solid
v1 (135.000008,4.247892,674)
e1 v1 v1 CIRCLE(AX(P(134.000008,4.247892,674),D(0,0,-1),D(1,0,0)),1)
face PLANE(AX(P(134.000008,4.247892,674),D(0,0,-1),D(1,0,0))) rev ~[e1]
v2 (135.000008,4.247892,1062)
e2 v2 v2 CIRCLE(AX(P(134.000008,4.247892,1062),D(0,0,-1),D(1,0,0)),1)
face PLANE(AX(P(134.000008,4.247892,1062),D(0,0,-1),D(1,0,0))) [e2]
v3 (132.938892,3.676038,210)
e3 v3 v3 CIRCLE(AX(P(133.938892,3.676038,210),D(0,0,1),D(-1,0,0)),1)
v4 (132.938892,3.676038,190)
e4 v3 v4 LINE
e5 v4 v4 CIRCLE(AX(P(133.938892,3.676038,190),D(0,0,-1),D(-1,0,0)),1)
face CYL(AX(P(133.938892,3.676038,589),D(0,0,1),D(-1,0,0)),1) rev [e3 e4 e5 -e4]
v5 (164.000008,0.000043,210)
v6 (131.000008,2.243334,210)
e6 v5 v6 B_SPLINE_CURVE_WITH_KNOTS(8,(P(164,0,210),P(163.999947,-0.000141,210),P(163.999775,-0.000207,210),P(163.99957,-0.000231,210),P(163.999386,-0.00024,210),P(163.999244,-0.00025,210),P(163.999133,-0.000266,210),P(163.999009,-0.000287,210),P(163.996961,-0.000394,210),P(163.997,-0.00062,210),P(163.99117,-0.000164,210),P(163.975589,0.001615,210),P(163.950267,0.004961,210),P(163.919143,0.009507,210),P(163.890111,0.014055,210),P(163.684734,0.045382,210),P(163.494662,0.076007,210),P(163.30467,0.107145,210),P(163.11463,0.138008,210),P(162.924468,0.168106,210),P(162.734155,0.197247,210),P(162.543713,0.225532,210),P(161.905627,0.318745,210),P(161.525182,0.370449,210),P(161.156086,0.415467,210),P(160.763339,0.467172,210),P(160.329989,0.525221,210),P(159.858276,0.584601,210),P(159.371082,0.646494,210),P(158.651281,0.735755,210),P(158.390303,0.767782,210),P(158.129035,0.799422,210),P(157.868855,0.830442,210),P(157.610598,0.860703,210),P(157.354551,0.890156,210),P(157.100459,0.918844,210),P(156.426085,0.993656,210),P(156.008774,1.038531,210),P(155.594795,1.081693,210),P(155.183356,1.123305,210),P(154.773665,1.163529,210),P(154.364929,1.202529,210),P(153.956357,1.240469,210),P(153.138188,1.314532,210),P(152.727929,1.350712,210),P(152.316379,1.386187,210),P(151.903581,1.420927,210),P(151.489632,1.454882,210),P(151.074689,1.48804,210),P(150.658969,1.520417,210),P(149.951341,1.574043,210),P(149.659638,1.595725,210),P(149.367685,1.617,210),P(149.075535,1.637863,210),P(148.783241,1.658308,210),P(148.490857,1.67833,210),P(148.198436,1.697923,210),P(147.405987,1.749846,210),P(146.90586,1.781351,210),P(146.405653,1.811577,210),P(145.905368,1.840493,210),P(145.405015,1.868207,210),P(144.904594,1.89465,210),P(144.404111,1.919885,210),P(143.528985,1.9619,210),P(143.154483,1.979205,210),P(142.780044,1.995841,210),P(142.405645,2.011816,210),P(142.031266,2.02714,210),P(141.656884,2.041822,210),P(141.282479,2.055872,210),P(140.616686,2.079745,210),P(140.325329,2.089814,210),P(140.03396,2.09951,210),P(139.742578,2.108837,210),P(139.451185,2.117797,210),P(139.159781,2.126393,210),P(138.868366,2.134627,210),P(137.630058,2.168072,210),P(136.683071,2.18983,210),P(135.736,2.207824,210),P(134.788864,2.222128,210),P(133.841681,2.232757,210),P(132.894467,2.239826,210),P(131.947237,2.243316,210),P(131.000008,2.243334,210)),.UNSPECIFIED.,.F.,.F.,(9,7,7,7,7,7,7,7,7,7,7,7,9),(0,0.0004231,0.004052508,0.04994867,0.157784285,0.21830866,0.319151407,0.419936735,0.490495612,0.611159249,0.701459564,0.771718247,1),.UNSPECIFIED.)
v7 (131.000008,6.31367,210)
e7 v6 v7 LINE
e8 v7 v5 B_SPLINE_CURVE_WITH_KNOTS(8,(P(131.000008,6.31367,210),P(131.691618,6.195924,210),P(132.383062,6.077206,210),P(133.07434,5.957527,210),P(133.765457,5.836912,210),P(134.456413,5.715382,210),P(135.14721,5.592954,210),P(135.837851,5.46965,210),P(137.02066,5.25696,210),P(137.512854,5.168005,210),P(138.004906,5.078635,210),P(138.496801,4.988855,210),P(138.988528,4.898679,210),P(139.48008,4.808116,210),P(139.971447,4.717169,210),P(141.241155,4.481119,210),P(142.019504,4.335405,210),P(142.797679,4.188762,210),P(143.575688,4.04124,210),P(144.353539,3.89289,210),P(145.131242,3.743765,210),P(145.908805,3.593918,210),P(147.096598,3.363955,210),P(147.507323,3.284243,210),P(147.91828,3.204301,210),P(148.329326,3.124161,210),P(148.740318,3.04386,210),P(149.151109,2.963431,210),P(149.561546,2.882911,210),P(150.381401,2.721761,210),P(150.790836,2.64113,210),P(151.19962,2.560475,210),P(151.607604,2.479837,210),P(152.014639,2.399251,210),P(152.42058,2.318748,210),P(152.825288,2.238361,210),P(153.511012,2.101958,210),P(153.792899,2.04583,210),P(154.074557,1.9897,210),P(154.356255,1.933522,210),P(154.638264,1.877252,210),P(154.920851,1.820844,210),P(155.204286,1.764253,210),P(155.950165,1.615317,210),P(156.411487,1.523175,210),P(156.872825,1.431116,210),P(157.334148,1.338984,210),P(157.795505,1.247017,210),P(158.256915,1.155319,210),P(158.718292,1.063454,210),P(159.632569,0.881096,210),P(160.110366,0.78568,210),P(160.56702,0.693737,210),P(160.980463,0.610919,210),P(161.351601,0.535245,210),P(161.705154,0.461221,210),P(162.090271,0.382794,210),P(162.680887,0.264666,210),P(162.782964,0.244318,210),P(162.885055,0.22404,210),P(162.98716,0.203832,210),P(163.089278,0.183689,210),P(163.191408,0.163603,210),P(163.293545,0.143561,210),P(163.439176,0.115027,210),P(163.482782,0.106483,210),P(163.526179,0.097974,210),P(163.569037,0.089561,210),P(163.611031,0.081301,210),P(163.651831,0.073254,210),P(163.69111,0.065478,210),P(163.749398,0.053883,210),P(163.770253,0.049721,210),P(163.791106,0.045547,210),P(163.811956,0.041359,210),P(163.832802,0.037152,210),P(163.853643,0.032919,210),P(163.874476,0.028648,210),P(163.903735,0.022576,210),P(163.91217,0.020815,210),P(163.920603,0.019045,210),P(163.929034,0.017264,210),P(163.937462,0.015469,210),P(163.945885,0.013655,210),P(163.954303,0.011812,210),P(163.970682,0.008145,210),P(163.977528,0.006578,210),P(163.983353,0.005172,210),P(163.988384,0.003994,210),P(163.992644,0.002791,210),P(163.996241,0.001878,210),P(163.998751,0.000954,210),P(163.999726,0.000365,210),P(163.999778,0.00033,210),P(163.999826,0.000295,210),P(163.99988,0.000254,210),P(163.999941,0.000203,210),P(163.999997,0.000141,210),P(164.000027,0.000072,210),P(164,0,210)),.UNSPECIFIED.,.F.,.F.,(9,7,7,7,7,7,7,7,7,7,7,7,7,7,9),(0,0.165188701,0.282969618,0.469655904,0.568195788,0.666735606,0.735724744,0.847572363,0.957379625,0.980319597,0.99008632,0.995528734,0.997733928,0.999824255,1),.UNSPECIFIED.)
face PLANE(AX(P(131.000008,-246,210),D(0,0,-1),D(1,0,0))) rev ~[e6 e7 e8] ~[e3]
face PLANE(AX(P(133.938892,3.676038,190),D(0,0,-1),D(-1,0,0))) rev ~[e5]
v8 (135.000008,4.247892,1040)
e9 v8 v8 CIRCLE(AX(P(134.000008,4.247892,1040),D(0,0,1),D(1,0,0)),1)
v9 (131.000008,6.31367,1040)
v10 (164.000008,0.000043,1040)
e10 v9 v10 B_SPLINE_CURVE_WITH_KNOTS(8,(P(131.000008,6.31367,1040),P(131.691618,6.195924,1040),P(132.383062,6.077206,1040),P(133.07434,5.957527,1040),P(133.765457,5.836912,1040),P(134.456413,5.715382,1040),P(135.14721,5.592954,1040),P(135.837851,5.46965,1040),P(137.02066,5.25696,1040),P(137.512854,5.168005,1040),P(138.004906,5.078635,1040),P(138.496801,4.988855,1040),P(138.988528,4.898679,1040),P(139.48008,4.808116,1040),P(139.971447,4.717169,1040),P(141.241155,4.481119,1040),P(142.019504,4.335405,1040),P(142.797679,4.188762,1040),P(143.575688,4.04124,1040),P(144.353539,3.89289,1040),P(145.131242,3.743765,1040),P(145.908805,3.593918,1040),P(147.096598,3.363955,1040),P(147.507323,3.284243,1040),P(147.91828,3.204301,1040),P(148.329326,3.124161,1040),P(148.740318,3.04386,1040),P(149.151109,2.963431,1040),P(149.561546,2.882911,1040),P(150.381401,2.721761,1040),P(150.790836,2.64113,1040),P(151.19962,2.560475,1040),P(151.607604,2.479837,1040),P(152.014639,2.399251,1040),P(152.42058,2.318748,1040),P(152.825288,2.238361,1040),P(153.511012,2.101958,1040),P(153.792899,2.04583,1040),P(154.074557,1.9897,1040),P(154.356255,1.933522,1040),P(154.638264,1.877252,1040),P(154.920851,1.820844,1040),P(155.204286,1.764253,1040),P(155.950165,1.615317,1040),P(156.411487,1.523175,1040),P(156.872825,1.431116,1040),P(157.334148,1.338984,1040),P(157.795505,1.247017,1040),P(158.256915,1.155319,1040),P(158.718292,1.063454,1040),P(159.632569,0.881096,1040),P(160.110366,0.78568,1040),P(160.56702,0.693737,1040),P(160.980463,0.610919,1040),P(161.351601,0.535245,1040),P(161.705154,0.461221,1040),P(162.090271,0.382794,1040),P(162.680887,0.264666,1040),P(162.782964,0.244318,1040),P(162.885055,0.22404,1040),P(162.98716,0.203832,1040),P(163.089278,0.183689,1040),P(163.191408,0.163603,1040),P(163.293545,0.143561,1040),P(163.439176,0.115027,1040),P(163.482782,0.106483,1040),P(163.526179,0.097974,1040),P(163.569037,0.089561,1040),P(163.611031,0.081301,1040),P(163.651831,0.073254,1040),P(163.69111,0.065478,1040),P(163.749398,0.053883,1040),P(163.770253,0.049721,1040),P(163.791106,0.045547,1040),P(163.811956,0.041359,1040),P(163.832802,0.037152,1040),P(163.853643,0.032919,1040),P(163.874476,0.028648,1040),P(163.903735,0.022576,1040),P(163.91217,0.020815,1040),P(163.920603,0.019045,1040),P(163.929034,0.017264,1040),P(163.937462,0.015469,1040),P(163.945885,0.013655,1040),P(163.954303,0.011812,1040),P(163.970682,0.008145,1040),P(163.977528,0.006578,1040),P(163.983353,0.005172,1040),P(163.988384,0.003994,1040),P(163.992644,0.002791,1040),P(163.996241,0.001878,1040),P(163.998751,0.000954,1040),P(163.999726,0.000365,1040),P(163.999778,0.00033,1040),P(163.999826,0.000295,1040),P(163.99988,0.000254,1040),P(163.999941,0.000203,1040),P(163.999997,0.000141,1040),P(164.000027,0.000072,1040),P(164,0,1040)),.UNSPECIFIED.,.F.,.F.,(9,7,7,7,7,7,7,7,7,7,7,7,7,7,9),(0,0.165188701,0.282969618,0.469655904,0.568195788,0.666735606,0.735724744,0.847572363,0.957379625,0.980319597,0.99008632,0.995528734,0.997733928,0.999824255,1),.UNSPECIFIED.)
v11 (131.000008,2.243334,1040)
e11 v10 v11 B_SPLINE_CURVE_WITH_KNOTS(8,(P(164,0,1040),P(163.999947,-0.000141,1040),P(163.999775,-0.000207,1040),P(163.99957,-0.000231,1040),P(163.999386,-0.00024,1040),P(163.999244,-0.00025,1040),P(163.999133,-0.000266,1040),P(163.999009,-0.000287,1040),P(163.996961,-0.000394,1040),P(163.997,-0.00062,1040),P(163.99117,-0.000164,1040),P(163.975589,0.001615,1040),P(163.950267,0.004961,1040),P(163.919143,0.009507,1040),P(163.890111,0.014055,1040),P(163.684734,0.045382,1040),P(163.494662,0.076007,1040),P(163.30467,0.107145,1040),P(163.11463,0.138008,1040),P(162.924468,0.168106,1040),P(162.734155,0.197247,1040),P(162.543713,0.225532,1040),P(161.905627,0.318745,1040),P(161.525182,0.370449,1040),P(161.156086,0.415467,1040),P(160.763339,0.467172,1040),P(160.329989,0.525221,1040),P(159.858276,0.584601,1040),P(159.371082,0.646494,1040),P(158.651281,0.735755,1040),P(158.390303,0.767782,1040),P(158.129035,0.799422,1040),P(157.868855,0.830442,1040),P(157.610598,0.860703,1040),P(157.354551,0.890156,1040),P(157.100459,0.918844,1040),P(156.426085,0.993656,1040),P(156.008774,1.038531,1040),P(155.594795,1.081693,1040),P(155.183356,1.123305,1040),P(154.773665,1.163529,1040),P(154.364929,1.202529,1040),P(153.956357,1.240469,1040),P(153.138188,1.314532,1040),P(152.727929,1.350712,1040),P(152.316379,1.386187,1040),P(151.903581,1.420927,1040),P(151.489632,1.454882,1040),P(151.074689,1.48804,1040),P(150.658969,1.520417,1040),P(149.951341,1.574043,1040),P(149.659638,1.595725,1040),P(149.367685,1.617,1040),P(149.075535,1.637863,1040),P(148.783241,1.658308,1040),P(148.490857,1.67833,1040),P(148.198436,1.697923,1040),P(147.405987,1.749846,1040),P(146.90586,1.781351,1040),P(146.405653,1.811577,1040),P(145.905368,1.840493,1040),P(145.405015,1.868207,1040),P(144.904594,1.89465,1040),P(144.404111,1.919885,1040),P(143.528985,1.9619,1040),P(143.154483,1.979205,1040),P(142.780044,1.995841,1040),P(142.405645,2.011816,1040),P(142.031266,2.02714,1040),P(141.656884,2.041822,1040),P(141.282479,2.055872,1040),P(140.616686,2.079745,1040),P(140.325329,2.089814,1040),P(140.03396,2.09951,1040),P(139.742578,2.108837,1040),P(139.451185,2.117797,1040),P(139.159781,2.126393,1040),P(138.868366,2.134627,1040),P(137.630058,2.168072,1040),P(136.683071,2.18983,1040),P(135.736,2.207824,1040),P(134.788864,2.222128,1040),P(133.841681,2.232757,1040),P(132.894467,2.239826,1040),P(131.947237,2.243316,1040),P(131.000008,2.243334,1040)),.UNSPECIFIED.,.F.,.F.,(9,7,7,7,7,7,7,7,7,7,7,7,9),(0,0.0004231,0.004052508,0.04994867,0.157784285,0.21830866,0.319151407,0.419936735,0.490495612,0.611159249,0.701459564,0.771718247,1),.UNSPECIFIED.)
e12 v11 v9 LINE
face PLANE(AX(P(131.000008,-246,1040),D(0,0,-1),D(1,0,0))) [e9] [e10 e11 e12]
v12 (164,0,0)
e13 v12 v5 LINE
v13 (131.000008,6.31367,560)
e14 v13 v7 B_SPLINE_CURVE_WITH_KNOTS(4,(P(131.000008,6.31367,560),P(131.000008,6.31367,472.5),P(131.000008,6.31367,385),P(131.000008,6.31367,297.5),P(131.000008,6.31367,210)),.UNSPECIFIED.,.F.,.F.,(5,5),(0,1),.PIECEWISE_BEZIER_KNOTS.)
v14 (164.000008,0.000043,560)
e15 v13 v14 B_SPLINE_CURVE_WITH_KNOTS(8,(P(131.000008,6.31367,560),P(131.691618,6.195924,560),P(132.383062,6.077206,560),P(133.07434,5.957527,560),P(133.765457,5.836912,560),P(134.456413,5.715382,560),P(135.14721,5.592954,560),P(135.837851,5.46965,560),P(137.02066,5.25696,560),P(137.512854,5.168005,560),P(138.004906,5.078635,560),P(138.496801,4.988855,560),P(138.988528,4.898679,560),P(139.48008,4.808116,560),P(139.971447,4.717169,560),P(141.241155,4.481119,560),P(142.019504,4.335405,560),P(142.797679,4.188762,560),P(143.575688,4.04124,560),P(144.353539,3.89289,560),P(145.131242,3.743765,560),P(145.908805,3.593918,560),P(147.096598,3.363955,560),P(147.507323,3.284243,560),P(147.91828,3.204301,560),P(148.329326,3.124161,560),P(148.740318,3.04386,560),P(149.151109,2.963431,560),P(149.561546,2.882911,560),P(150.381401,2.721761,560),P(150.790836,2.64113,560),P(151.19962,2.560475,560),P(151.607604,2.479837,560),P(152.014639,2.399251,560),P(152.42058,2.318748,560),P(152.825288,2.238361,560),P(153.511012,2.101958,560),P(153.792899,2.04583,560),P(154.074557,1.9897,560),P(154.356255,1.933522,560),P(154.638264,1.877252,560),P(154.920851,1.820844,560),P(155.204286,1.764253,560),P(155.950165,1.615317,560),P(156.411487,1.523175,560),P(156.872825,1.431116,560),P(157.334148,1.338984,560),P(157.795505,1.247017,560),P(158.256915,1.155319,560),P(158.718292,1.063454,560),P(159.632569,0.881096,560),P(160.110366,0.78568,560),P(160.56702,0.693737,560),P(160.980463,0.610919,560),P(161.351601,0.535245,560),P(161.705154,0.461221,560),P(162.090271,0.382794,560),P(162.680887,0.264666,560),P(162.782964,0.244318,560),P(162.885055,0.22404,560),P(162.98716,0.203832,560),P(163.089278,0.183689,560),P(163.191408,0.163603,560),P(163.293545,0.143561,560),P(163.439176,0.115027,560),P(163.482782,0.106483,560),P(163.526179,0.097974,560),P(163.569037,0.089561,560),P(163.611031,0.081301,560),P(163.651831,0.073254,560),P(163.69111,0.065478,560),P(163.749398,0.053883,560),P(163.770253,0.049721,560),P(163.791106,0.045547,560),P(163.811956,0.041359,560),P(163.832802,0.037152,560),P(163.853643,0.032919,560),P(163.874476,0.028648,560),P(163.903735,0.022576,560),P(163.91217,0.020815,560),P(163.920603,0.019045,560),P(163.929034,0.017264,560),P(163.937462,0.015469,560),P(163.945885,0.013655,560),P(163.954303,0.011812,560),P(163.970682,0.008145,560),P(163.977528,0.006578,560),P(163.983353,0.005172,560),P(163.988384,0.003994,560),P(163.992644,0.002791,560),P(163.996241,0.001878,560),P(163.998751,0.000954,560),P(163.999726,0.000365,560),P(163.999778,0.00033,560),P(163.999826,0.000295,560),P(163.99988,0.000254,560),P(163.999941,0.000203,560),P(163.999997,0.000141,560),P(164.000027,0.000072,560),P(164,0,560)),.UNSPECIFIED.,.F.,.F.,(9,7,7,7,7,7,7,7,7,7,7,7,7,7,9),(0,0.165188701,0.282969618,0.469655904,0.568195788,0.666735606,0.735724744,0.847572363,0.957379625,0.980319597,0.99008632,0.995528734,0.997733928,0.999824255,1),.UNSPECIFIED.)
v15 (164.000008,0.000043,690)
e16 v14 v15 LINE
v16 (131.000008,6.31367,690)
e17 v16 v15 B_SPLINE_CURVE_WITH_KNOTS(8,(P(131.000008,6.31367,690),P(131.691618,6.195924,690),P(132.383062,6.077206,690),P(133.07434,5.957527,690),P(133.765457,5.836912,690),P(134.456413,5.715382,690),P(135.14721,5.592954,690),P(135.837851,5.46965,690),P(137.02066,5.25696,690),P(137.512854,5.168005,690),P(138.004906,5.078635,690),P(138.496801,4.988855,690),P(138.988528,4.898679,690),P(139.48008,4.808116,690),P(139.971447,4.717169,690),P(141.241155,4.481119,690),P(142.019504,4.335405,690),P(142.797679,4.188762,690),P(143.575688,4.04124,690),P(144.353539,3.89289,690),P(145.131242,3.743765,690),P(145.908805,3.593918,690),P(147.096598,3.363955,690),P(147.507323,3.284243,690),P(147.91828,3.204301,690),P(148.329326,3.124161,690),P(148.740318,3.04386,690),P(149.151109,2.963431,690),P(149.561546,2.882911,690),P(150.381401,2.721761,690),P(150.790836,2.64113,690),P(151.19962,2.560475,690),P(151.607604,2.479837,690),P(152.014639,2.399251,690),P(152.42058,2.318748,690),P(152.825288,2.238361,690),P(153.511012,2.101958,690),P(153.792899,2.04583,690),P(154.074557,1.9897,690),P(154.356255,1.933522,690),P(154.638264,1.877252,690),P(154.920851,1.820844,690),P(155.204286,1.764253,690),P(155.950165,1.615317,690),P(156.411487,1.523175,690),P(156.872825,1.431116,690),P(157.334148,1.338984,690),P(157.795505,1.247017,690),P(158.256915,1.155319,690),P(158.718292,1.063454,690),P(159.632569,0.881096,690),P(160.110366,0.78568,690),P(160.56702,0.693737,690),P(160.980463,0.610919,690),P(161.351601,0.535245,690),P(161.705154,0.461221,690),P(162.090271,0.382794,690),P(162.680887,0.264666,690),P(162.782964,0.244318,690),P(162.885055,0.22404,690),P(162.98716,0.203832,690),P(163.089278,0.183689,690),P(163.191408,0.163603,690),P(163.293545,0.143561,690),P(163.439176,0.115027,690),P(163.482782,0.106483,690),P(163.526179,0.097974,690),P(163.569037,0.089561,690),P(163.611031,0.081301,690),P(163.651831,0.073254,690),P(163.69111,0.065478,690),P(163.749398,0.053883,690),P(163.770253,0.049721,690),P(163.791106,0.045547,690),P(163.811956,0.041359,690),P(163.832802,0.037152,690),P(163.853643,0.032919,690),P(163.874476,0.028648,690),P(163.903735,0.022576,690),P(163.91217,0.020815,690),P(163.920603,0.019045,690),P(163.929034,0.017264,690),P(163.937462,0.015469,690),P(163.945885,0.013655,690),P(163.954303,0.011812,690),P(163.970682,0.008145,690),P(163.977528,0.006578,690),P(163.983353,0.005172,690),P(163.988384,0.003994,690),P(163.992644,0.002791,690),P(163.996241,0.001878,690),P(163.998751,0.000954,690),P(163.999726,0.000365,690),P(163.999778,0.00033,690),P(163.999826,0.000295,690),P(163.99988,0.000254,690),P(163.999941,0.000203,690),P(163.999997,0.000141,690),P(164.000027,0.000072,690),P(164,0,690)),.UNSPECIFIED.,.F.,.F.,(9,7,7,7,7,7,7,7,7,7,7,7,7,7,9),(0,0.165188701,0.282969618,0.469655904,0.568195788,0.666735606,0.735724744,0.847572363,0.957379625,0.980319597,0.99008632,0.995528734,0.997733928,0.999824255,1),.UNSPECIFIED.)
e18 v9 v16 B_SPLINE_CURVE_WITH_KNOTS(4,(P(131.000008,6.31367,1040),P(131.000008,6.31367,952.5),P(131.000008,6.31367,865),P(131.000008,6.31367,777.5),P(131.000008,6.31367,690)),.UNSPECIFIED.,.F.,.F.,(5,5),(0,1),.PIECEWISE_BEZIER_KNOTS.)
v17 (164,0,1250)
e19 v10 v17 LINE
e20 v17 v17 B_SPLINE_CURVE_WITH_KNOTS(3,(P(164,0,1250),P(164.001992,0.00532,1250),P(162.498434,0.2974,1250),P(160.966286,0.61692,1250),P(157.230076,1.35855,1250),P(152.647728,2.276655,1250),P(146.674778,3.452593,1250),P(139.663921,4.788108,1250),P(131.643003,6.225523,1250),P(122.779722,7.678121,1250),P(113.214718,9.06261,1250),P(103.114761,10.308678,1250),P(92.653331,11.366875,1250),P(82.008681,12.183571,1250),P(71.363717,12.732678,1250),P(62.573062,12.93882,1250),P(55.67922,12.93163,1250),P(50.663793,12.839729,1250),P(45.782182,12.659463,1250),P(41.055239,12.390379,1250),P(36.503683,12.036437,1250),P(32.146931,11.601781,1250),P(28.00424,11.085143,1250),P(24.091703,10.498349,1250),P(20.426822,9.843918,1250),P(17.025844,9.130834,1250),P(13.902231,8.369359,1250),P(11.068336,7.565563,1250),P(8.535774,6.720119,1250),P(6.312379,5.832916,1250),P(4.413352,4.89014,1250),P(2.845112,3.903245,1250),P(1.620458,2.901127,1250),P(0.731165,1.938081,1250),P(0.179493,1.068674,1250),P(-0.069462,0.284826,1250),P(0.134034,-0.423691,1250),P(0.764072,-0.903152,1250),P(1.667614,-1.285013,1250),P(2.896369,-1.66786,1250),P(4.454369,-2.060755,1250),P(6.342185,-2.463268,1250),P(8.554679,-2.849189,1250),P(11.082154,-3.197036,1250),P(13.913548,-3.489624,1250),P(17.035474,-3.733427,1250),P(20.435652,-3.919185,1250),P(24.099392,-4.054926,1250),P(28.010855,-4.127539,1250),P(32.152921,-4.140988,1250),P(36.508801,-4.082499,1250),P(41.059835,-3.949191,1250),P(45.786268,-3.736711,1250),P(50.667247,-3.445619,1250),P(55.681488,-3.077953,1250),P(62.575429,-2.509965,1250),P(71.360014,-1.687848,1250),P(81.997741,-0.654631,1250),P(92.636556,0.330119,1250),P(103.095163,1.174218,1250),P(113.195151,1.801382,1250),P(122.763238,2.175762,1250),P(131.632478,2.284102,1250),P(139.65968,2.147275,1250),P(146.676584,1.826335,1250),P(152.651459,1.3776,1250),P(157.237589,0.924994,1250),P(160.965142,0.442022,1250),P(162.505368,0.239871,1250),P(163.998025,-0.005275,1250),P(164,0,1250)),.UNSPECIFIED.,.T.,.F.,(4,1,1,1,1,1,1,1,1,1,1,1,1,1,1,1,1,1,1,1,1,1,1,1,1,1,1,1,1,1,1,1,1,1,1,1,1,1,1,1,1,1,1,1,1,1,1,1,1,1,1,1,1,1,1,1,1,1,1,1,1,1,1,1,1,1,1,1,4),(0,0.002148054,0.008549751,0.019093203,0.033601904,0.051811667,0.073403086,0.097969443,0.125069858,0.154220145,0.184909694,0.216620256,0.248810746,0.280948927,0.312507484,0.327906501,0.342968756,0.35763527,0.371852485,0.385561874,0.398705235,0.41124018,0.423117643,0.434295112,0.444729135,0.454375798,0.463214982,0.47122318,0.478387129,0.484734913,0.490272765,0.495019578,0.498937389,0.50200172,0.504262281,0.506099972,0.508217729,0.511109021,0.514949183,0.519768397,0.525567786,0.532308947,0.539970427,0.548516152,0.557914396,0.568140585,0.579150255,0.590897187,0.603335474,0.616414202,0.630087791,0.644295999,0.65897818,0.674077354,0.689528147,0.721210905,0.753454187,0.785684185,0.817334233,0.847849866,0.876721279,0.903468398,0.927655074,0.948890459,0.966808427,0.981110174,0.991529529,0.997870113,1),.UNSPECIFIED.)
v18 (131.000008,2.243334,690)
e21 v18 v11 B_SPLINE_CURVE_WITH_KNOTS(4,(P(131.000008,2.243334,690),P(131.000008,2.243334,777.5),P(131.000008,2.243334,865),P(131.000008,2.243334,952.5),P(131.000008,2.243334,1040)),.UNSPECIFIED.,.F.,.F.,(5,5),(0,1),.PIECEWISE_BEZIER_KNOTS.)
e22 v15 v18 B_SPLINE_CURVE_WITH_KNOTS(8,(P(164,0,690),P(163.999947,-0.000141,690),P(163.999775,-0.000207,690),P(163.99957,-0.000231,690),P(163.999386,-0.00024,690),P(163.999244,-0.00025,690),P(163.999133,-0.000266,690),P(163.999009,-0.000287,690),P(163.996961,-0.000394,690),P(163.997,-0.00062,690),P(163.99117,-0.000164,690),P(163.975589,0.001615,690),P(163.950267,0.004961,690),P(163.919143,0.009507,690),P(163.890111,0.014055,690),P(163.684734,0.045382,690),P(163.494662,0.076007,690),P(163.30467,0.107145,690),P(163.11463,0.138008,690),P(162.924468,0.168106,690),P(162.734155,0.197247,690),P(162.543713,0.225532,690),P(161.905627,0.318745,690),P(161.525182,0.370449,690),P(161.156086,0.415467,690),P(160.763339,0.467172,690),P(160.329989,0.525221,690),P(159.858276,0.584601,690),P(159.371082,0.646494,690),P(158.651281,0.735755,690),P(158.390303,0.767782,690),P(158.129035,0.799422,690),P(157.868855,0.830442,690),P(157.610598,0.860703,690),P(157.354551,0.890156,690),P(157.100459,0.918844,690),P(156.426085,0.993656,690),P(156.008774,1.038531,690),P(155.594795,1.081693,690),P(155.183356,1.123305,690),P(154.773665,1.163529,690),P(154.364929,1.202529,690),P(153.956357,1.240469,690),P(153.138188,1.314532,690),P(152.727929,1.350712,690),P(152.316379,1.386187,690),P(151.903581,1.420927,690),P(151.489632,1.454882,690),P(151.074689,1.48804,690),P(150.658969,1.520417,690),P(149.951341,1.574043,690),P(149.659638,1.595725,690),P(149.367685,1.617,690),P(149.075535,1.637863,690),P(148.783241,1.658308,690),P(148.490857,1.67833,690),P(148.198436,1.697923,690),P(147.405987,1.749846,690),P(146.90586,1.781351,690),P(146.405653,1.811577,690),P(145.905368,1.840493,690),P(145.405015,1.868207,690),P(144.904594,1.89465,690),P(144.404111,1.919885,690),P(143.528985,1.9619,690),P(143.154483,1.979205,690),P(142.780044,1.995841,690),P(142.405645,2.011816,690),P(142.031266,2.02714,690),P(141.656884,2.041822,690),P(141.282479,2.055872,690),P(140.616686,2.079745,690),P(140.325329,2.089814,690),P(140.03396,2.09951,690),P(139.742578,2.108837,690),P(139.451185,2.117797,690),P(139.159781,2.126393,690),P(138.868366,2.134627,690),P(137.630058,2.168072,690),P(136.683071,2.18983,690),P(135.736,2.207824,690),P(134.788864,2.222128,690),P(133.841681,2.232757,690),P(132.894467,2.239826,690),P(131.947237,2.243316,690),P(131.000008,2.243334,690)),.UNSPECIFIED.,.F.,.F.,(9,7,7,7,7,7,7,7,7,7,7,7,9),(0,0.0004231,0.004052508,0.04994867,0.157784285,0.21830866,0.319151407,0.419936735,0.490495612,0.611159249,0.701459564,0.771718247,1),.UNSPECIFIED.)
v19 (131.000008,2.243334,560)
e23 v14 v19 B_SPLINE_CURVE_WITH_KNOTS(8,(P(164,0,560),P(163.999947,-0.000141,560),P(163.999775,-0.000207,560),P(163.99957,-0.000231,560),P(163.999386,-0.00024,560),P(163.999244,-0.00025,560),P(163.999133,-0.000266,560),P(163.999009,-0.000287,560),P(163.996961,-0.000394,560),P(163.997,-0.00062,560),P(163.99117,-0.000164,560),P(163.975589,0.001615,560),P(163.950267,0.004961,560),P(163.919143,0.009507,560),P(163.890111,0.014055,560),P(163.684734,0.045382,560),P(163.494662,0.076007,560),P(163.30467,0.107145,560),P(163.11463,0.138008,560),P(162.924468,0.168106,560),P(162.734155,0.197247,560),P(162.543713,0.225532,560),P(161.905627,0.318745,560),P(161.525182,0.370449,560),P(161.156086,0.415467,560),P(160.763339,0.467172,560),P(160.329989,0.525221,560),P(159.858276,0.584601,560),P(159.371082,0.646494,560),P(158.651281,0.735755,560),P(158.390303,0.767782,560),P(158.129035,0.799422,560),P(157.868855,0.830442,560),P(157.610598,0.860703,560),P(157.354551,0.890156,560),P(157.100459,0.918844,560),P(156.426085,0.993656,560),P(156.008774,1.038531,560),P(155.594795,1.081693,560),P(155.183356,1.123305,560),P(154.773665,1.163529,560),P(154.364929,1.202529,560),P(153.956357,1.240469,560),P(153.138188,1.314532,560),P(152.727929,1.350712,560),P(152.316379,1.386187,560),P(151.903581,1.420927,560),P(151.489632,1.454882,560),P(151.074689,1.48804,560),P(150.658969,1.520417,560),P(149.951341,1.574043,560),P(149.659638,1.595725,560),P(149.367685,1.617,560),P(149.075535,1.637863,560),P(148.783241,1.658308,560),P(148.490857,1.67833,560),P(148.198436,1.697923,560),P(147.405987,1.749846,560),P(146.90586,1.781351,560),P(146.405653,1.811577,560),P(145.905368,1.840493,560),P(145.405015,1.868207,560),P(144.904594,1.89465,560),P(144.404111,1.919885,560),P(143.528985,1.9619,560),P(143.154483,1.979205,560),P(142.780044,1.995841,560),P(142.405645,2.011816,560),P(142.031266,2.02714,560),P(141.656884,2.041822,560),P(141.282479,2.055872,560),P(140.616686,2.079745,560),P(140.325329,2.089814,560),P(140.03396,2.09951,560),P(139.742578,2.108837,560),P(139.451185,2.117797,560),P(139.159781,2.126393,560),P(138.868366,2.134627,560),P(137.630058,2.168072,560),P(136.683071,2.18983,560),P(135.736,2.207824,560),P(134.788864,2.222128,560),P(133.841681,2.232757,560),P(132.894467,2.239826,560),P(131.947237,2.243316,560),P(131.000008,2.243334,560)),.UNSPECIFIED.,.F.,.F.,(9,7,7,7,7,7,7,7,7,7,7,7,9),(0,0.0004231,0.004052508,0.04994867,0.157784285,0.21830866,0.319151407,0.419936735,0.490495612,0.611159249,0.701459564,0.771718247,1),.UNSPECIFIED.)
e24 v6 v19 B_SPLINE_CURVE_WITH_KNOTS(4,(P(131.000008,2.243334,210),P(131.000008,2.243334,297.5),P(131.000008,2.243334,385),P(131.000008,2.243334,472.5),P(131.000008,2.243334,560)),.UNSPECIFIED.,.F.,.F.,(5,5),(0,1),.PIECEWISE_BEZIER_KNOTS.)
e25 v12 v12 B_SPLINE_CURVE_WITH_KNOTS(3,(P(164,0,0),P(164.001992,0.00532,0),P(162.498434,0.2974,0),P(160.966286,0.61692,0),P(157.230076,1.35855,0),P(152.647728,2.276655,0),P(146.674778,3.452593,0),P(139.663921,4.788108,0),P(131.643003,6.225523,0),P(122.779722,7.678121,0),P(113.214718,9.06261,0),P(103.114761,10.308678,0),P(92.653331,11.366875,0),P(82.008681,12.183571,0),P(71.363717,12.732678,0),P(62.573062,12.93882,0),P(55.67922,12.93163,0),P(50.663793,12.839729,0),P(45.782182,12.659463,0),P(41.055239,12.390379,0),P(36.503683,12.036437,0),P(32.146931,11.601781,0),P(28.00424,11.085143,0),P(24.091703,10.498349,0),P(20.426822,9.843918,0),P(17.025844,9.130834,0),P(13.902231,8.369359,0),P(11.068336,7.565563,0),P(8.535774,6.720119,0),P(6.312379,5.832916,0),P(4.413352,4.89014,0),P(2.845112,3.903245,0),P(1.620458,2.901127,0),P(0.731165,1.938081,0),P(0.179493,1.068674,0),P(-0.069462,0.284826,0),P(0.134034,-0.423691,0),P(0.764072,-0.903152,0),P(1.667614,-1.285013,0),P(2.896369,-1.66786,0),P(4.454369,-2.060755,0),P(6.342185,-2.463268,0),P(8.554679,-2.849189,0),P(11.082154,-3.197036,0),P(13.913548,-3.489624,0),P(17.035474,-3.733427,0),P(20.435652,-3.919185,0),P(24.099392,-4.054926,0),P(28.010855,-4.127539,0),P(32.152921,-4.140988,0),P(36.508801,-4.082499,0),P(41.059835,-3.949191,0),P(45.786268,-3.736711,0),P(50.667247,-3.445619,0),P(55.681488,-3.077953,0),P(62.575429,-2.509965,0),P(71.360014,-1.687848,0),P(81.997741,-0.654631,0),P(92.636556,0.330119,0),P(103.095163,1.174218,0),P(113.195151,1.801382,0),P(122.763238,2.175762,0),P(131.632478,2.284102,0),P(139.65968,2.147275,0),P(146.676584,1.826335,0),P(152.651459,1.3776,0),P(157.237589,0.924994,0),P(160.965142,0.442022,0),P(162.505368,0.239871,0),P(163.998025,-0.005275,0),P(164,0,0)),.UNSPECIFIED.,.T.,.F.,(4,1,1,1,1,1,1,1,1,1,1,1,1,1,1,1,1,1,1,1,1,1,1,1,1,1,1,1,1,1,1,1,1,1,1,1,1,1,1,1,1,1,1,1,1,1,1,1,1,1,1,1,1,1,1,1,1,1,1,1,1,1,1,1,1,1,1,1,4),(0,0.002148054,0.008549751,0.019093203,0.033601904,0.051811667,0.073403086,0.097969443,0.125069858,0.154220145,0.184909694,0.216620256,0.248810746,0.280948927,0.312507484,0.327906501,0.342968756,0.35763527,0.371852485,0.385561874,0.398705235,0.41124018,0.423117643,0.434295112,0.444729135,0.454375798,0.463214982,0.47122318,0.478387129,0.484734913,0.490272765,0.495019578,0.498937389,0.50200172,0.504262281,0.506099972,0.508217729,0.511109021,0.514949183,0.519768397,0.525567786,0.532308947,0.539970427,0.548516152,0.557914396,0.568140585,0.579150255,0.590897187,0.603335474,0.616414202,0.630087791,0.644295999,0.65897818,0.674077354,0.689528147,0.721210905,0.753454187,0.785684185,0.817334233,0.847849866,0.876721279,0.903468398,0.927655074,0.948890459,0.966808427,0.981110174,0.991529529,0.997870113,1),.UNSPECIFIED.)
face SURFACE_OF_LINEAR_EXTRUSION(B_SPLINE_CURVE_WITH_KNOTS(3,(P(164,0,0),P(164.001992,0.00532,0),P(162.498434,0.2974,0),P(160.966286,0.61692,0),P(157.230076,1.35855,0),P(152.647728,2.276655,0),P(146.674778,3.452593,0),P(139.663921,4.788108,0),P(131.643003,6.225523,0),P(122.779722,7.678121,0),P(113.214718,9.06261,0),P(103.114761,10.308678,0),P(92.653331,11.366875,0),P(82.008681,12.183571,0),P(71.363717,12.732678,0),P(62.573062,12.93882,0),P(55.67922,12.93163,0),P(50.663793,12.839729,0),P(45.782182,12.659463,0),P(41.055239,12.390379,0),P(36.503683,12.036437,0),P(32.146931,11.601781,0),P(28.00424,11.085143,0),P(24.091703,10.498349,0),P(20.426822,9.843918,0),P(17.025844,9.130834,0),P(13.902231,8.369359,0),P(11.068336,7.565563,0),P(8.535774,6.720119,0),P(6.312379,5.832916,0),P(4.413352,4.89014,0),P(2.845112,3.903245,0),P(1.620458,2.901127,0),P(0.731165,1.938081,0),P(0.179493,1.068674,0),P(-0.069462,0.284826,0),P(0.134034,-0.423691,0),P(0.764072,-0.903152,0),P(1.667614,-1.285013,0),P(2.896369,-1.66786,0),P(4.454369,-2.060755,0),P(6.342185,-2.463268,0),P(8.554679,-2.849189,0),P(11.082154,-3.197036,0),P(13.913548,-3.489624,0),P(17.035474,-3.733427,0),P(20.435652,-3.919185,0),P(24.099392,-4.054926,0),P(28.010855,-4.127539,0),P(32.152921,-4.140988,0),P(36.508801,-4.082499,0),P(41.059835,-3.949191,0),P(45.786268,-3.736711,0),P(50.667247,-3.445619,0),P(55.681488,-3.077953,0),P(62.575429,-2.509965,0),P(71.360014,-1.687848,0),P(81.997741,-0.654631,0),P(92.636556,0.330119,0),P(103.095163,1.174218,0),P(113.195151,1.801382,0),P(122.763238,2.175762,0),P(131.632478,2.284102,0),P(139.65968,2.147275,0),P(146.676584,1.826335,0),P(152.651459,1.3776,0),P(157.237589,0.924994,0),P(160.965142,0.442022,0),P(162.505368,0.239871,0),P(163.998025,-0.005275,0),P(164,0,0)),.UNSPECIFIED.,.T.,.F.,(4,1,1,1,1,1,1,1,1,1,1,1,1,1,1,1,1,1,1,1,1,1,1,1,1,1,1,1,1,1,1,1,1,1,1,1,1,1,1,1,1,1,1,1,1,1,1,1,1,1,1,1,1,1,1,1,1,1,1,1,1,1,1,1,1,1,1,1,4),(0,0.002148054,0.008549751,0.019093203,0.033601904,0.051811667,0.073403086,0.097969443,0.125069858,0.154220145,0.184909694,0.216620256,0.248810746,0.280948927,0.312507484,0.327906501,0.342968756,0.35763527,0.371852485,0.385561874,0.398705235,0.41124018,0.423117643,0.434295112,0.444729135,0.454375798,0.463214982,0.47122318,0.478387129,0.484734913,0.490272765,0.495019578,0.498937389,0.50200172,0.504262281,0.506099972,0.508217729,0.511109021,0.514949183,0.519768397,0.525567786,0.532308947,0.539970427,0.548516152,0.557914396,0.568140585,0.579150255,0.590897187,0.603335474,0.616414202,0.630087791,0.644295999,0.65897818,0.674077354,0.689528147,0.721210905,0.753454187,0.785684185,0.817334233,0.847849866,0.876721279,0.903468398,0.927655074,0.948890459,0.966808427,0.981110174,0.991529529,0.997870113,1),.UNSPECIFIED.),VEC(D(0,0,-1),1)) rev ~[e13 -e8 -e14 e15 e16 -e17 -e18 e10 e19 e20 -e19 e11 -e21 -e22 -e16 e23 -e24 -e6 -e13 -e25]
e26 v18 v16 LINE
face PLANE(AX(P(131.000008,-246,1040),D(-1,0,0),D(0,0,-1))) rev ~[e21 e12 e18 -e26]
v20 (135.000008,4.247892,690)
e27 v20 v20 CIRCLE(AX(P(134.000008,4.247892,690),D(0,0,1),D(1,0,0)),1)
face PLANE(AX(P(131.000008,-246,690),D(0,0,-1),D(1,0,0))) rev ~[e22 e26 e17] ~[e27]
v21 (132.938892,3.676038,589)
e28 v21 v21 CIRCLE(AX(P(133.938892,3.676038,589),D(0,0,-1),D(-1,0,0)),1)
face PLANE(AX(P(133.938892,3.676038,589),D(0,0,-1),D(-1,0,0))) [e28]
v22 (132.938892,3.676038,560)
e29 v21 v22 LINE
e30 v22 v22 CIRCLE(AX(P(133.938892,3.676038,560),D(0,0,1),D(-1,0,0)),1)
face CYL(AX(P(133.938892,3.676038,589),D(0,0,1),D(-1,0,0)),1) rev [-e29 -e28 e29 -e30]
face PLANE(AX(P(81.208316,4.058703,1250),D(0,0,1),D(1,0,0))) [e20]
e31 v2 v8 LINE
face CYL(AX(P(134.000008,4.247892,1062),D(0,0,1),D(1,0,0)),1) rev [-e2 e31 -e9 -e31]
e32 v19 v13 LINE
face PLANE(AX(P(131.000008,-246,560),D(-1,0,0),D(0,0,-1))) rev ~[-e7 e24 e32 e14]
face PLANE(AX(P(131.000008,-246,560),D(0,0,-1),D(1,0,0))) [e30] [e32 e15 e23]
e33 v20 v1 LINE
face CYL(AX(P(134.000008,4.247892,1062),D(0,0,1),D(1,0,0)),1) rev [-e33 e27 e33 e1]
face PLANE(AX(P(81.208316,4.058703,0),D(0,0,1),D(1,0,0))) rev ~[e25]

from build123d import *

# Parameters (mm, degrees)
WING_SPAN_DEPTH         = 1250
FLAP_SPACE_DEPTH        = 110
FLAP_SPACE_DEPTH_BACK   = 246
SKETCH4_W               = 33
SKETCH4_H               = 350
CUT_EXTRUDE3_DEPTH      = 370
CUT_EXTRUDE3_DEPTH_BACK = 29
SKETCH5_R               = 1
CUT_EXTRUDE4_DEPTH      = 366
CUT_EXTRUDE4_DEPTH_BACK = 22
SKETCH6_R               = 0.999999993


with BuildPart() as part:
    # Sketch2 → Wing span (new body)
    with BuildSketch(Plane.XY):
        with BuildLine():
            add(Edge.make_bspline(
                [(164, 0), (164.001991598, 0.00531985), (162.498434343, 0.297400203), (160.966285987, 0.616919952), (157.230075916, 1.35854981), (152.647727614, 2.276655229), (146.674778271, 3.452593401), (139.663921431, 4.788107638), (131.643002502, 6.225523454), (122.779722168, 7.678120549), (113.214717928, 9.062609537), (103.114761216, 10.30867808), (92.653330955, 11.366874663), (82.008680624, 12.183570909), (71.363717138, 12.732678494), (62.573062305, 12.938820128), (55.679219616, 12.931629583), (50.66379262, 12.839728664), (45.782181562, 12.659463205), (41.055239208, 12.3903785), (36.503682969, 12.036437473), (32.146930875, 11.601780671), (28.004239994, 11.085142861), (24.091702865, 10.49834901), (20.426822474, 9.843918183), (17.025844132, 9.130833564), (13.902230709, 8.369358841), (11.06833563, 7.565562996), (8.53577437, 6.720118621), (6.312379055, 5.832916092), (4.413351959, 4.89013994), (2.84511205, 3.903245047), (1.620457598, 2.901127061), (0.731165093, 1.938080692), (0.179493112, 1.068674431), (-0.069462085, 0.284825746), (0.1340338, -0.423690631), (0.764071957, -0.903152486), (1.66761423, -1.285012606), (2.89636931, -1.667860408), (4.454368995, -2.060754755), (6.342184668, -2.463268111), (8.554678564, -2.849189029), (11.082153575, -3.197036089), (13.91354845, -3.489623602), (17.035473755, -3.733426896), (20.435651878, -3.919184892), (24.099392464, -4.054926113), (28.010855137, -4.127538534), (32.152921407, -4.140988099), (36.508800602, -4.082499209), (41.059834749, -3.949191021), (45.786267855, -3.736710609), (50.667246714, -3.44561856), (55.681487768, -3.077952812), (62.575429044, -2.5099648), (71.360013547, -1.687848394), (81.99774075, -0.654631351), (92.636555888, 0.330119403), (103.095163283, 1.174218069), (113.195150773, 1.80138175), (122.763237889, 2.175762051), (131.632477935, 2.284101672), (139.659679629, 2.147275472), (146.676584213, 1.826335034), (152.651459073, 1.377599866), (157.237589271, 0.924994424), (160.965141957, 0.442021742), (162.505368274, 0.239871333), (163.998025246, -0.005274856), (164, 0)],
                knots=[0, 0, 0, 0, 0.002148054, 0.008549751, 0.019093203, 0.033601904, 0.051811667, 0.073403086, 0.097969443, 0.125069858, 0.154220145, 0.184909694, 0.216620256, 0.248810746, 0.280948927, 0.312507484, 0.327906501, 0.342968756, 0.35763527, 0.371852485, 0.385561874, 0.398705235, 0.41124018, 0.423117643, 0.434295112, 0.444729135, 0.454375798, 0.463214982, 0.47122318, 0.478387129, 0.484734913, 0.490272765, 0.495019578, 0.498937389, 0.50200172, 0.504262281, 0.506099972, 0.508217729, 0.511109021, 0.514949183, 0.519768397, 0.525567786, 0.532308947, 0.539970427, 0.548516152, 0.557914396, 0.568140585, 0.579150255, 0.590897187, 0.603335474, 0.616414202, 0.630087791, 0.644295999, 0.65897818, 0.674077354, 0.689528147, 0.721210905, 0.753454187, 0.785684185, 0.817334233, 0.847849866, 0.876721279, 0.903468398, 0.927655074, 0.948890459, 0.966808427, 0.981110174, 0.991529529, 0.997870113, 1, 1, 1, 1], degree=3))
        make_face()
    extrude(amount=WING_SPAN_DEPTH)

    # Sketch4 → Flap space (cut, two sides: drawn at the far end of the back side and taken through both)
    with BuildSketch(Plane(origin=(0, 0, 0), x_dir=(1, 0, 0), z_dir=(0, 1, 0)).offset(-FLAP_SPACE_DEPTH_BACK)):
        with Locations((147.500007842, -865)):
            Rectangle(SKETCH4_W, SKETCH4_H)
        with Locations((147.500007842, -385)):
            Rectangle(SKETCH4_W, SKETCH4_H)
    extrude(amount=FLAP_SPACE_DEPTH + FLAP_SPACE_DEPTH_BACK, mode=Mode.SUBTRACT)

    # Sketch5 → Cut-Extrude3 (cut, two sides: drawn at the far end of the back side and taken through both)
    with BuildSketch(Plane(origin=(0, 0, 560), x_dir=(-1, 0, 0), z_dir=(0, 0, -1)).offset(-CUT_EXTRUDE3_DEPTH_BACK)):
        with Locations((-133.938891559, 3.676038377)):
            Circle(SKETCH5_R)
    extrude(amount=CUT_EXTRUDE3_DEPTH + CUT_EXTRUDE3_DEPTH_BACK, mode=Mode.SUBTRACT)

    # Sketch6 → Cut-Extrude4 (cut, two sides: drawn at the far end of the back side and taken through both)
    with BuildSketch(Plane(origin=(0, 0, 1040), x_dir=(-1, 0, 0), z_dir=(0, 0, -1)).offset(-CUT_EXTRUDE4_DEPTH_BACK)):
        with Locations(Location((-134.000007827, 4.247891524, 0), (0, 0, 180))):
            Circle(SKETCH6_R)
    extrude(amount=CUT_EXTRUDE4_DEPTH + CUT_EXTRUDE4_DEPTH_BACK, mode=Mode.SUBTRACT)


solid = part.part
